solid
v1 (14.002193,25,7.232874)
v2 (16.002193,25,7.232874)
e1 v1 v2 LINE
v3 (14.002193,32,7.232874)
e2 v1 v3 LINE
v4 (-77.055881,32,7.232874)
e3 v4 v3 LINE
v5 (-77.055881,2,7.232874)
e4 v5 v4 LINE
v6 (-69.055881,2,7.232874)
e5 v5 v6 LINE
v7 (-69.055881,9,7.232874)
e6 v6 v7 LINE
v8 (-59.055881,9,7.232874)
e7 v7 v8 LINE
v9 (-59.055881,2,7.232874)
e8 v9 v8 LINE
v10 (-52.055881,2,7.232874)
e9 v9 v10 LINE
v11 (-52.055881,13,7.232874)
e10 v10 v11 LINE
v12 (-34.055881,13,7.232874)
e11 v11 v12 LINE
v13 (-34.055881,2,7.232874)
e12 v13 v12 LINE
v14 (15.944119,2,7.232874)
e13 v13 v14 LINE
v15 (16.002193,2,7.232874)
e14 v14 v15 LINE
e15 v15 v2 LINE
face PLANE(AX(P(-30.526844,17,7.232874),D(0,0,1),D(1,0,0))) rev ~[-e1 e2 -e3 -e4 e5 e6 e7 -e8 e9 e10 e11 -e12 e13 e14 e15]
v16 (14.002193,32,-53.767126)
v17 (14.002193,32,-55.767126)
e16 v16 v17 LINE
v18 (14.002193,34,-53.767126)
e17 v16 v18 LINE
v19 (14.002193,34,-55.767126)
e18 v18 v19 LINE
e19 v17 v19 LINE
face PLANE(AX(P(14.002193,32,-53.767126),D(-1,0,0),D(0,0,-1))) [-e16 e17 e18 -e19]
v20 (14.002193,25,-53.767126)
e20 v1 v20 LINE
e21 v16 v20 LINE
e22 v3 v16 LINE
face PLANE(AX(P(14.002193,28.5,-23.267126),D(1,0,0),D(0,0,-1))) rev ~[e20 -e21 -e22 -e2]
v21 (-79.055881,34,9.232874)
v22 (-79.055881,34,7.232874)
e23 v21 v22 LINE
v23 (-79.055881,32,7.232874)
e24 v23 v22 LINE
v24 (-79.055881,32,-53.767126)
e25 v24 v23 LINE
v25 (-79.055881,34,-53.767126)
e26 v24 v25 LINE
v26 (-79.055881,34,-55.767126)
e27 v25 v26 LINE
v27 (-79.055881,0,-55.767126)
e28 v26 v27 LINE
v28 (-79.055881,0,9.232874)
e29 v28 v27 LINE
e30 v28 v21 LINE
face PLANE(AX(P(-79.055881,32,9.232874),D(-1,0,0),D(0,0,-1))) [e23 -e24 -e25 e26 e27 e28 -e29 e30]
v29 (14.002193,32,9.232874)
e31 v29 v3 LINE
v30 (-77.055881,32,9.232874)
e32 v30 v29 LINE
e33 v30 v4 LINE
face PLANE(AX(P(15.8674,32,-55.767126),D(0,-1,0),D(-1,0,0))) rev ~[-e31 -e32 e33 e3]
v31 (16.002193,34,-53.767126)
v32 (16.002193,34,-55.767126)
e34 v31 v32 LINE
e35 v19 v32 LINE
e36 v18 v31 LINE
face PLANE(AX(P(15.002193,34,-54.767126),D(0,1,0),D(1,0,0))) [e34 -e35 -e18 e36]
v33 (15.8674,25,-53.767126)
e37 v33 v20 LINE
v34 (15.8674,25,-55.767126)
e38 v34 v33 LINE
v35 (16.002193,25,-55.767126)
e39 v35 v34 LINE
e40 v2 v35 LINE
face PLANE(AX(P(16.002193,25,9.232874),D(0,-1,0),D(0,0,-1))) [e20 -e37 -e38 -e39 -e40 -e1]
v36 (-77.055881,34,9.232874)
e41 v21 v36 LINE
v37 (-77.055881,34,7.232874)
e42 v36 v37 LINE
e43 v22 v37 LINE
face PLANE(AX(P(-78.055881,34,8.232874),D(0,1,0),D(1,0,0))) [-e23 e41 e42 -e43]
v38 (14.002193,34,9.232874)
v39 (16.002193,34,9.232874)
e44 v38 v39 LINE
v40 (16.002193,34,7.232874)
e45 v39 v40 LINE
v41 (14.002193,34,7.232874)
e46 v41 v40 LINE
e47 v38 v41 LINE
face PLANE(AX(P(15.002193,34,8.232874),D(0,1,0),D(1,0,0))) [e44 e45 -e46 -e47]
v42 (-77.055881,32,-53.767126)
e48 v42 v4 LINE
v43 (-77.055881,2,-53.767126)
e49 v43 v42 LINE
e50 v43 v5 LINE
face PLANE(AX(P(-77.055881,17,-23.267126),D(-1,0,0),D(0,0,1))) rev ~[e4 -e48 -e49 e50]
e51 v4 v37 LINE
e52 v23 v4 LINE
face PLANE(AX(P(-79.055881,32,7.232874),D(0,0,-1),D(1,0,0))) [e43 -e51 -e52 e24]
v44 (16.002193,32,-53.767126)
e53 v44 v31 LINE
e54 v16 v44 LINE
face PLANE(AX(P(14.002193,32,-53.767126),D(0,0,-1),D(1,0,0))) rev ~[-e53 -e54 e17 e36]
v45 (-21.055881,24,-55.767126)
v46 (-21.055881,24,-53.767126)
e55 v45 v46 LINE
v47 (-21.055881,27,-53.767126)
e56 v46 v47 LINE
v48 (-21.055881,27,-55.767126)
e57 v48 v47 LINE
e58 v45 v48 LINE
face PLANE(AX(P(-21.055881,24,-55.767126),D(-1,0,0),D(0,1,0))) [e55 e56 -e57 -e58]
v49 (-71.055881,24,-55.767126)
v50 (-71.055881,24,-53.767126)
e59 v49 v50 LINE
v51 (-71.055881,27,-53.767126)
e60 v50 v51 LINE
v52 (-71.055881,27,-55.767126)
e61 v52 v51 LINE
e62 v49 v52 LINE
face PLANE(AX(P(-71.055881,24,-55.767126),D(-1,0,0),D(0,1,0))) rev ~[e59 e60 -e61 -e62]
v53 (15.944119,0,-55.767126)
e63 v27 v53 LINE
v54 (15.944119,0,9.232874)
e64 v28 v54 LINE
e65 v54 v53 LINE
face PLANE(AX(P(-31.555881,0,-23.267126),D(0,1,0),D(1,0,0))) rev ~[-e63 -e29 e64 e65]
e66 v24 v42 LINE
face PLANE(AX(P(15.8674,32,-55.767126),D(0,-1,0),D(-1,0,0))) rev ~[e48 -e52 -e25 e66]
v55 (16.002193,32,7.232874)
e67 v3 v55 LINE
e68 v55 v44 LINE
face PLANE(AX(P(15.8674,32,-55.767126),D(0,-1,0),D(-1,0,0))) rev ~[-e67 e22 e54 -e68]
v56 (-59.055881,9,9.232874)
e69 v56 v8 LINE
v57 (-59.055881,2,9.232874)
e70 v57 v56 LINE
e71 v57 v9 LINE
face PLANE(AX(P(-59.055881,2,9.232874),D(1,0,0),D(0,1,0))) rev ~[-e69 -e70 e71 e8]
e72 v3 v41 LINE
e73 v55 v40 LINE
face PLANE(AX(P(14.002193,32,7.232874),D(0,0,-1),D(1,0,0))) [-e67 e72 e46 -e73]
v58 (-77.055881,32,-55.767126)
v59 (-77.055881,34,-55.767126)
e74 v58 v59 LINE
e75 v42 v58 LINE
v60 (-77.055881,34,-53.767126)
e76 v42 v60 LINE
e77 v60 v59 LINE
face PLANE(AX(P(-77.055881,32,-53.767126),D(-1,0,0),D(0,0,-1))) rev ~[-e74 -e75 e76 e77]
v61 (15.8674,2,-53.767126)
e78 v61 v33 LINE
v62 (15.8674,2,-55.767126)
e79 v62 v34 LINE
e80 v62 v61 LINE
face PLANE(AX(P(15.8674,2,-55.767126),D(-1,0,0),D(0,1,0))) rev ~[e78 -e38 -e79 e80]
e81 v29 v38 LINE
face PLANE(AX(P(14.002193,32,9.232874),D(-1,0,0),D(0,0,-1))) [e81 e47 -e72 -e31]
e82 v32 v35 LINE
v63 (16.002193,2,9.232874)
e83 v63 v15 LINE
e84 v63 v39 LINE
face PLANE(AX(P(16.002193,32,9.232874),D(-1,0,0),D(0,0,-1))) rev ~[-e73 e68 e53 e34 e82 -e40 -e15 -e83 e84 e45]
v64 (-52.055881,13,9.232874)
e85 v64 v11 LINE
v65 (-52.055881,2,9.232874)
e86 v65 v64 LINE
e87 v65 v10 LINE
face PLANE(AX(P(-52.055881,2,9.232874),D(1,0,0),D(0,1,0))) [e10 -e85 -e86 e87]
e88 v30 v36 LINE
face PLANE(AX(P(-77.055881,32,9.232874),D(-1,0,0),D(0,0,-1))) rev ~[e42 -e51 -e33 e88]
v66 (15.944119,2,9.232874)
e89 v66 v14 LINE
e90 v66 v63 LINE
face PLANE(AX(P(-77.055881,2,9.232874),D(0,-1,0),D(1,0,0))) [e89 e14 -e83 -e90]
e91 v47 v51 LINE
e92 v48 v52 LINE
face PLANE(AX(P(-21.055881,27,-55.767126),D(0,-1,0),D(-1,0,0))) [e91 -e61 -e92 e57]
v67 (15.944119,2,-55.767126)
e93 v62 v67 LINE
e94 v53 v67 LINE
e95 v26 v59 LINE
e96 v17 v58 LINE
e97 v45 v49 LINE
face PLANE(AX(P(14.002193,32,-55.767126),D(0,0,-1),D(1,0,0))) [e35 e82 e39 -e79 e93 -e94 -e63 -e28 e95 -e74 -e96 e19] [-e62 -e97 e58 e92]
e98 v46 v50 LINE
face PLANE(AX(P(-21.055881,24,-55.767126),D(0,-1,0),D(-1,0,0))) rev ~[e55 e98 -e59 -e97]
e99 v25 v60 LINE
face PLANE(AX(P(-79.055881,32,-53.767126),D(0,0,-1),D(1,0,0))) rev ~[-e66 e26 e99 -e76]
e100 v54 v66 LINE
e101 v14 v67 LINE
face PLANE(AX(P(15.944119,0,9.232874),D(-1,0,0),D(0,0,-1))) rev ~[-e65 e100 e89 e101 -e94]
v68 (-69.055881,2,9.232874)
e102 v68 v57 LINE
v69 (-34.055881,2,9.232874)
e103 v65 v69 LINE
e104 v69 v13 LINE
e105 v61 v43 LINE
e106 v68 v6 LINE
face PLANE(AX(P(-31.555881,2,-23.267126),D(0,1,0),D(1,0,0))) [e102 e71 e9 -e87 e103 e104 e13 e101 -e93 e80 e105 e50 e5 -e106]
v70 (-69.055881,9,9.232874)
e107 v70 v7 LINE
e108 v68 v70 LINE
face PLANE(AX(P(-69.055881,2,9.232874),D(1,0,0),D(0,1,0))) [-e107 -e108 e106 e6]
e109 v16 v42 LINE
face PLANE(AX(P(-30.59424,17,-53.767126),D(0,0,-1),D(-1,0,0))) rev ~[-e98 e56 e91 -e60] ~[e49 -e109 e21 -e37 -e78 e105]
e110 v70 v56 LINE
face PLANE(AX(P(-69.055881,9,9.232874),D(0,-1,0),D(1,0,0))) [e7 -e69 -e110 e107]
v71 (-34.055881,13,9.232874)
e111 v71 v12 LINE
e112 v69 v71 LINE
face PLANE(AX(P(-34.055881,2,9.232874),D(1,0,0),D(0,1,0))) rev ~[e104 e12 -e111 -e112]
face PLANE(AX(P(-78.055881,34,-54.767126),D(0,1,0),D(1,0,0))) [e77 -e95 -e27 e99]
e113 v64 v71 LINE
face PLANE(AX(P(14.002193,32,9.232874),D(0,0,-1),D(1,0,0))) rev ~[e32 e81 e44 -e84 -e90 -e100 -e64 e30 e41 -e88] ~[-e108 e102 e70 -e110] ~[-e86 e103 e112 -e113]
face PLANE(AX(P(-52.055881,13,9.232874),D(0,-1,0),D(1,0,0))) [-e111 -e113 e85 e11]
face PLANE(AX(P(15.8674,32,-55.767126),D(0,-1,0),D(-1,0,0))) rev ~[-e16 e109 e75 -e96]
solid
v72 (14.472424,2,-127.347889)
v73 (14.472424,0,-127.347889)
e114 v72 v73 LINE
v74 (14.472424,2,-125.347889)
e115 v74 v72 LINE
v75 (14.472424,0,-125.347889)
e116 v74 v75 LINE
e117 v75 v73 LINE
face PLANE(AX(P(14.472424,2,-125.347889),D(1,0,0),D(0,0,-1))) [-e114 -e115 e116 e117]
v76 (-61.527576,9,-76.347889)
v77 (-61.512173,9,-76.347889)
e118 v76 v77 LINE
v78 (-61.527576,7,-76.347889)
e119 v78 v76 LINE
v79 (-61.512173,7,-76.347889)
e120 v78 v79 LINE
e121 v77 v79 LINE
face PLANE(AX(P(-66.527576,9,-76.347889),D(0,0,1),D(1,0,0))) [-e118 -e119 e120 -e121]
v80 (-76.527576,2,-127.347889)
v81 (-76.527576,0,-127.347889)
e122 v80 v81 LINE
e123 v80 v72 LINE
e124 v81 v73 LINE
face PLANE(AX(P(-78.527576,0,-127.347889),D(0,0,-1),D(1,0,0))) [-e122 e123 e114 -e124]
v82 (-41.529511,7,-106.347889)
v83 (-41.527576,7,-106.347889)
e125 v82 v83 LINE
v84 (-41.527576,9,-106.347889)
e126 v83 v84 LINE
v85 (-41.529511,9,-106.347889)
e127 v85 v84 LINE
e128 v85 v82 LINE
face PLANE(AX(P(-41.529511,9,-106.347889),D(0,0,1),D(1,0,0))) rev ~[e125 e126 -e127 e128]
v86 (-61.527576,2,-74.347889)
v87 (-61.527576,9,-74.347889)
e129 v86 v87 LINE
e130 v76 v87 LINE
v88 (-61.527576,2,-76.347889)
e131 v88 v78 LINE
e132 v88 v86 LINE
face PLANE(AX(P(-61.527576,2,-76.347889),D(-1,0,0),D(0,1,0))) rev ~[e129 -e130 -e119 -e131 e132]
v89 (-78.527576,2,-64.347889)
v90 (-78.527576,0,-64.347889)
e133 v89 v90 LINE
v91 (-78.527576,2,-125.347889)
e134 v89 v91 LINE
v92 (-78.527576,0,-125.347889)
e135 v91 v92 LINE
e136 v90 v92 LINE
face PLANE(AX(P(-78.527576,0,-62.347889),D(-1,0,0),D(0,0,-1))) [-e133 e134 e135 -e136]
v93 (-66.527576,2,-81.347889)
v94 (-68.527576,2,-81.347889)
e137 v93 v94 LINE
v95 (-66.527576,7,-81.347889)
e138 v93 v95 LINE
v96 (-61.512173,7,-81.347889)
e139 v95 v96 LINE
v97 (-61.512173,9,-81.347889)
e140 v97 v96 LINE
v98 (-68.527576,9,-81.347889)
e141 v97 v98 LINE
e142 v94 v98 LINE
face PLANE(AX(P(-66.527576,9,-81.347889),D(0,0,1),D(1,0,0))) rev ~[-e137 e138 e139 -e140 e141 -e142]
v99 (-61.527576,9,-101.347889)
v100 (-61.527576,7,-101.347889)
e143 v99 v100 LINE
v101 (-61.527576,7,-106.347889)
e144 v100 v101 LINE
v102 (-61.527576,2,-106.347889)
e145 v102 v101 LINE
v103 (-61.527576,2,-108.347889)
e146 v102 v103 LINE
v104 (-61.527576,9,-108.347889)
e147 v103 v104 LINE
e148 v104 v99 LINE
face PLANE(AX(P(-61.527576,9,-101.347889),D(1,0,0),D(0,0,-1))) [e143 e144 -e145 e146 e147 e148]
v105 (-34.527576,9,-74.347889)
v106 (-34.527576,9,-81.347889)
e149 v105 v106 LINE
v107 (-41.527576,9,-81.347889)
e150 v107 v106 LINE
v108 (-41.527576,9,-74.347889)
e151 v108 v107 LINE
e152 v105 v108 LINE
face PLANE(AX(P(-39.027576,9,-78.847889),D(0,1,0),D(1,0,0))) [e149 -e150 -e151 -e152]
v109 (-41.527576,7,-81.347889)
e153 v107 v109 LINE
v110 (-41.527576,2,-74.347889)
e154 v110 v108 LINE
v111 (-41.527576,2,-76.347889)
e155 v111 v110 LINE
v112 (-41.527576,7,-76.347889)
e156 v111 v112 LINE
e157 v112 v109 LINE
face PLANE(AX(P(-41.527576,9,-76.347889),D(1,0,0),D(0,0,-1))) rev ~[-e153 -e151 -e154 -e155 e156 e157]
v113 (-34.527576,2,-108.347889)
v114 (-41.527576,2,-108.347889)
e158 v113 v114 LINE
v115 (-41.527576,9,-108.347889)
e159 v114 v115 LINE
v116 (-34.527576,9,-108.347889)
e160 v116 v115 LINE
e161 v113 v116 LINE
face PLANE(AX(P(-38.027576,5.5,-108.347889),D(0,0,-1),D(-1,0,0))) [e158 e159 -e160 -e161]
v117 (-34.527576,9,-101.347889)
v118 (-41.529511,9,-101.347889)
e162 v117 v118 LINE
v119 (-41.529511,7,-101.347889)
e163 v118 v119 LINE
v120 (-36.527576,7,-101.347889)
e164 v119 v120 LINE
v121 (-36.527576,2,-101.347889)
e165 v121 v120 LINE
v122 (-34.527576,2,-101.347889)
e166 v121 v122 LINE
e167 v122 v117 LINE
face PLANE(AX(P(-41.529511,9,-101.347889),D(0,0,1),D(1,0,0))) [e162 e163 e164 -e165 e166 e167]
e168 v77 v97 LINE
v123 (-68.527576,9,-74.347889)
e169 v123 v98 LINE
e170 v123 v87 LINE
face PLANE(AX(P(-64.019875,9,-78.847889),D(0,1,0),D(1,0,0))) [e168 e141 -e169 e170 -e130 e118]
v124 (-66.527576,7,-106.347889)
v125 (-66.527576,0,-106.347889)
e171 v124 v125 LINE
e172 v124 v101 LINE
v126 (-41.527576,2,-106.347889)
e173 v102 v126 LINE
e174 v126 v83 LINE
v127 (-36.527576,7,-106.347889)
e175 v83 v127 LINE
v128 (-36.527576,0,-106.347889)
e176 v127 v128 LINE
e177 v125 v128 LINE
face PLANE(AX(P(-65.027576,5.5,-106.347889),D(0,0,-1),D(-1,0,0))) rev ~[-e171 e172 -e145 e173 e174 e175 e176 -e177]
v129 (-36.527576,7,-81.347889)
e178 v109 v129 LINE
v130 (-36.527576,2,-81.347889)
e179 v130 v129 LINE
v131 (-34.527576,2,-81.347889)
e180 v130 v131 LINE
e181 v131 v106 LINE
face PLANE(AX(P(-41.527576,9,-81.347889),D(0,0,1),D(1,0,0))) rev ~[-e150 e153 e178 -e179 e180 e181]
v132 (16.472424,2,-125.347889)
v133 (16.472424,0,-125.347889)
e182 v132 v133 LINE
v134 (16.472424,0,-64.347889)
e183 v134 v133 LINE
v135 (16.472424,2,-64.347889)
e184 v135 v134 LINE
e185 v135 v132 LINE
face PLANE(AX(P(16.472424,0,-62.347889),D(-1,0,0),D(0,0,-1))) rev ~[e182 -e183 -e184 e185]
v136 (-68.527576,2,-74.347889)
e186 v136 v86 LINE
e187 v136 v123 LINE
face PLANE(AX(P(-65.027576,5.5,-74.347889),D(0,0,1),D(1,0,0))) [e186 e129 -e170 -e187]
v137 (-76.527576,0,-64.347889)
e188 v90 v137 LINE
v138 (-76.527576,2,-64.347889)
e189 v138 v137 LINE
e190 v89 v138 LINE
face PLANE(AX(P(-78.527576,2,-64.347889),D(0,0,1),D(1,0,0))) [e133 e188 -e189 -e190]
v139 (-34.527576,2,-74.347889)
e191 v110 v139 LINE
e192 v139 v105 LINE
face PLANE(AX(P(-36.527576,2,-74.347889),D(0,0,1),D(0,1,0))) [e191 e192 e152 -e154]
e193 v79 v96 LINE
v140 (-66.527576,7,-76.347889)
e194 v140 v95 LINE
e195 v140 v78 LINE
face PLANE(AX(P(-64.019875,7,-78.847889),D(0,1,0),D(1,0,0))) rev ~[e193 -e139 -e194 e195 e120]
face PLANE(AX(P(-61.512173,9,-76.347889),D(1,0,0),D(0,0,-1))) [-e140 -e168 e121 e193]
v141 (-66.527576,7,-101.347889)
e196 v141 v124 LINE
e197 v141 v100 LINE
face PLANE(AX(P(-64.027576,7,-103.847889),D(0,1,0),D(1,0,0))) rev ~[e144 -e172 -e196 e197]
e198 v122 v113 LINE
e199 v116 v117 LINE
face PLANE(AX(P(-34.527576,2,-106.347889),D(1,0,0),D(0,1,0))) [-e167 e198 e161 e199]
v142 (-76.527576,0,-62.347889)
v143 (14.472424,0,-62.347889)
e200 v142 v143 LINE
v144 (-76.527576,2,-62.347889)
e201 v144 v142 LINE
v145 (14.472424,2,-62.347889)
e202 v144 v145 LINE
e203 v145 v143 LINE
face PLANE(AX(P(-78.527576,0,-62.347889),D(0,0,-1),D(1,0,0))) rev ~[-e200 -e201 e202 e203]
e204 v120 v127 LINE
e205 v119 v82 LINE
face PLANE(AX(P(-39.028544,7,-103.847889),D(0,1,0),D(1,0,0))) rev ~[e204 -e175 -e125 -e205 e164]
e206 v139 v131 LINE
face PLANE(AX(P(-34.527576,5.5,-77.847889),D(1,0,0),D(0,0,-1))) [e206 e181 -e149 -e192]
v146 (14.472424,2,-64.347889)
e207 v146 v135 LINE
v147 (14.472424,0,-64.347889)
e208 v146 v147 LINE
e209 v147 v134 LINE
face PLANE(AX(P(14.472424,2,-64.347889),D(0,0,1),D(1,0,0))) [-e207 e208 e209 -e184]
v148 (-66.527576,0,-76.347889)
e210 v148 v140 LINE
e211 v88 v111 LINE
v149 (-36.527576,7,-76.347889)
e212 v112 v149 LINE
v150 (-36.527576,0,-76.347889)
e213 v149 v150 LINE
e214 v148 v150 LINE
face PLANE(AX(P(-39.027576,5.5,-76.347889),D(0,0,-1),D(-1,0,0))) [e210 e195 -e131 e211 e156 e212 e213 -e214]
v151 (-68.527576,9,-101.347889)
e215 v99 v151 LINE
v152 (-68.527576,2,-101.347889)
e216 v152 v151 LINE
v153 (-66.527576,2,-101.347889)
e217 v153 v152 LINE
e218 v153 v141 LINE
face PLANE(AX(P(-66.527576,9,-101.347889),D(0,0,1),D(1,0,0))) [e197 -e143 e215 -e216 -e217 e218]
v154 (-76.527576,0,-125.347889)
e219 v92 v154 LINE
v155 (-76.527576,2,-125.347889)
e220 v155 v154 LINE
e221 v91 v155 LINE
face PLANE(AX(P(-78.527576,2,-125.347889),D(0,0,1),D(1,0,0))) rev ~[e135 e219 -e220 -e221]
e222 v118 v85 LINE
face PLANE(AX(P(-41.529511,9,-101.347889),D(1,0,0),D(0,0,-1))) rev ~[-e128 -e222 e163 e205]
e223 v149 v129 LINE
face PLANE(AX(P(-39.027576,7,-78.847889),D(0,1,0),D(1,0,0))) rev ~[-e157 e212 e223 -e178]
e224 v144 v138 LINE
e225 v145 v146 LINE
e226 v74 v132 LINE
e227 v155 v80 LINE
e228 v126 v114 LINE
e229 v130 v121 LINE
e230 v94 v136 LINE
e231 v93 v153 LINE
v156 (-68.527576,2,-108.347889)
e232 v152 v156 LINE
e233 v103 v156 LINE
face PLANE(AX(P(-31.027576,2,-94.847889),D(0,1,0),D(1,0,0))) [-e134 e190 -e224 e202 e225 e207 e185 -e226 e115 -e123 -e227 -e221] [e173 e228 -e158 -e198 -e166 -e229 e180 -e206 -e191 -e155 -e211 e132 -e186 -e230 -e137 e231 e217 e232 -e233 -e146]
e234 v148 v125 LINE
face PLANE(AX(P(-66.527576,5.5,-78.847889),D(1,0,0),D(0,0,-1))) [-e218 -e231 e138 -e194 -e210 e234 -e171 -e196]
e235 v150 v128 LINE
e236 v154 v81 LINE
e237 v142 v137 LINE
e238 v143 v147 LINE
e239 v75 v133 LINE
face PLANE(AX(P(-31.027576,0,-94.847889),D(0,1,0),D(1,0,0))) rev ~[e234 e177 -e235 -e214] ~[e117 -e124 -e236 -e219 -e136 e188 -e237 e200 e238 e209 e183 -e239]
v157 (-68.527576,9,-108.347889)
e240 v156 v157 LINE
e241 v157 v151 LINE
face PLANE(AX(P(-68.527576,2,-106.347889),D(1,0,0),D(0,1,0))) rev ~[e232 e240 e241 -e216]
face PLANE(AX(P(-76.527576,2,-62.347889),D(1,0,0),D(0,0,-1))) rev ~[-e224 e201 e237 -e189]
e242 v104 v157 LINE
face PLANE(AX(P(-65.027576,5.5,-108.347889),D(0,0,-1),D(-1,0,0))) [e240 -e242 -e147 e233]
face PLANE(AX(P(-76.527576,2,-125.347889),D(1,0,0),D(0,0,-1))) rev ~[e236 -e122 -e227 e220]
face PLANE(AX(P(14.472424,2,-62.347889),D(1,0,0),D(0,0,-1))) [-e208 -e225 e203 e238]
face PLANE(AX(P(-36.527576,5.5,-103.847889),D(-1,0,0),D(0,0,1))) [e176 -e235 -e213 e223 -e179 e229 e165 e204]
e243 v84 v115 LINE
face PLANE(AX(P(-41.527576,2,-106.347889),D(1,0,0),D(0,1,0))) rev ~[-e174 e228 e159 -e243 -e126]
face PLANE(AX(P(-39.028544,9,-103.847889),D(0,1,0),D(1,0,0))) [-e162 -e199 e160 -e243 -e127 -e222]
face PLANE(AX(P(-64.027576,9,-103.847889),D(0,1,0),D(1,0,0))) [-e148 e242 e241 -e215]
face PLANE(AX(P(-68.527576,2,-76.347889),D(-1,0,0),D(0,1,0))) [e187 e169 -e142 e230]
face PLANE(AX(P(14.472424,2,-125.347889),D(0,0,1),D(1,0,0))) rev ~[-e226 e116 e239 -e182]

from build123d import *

# Parameters (mm, degrees)
ESQUISSE1_W                = 95
ESQUISSE1_H                = 65
BOSS_EXTRU_1_DEPTH         = 2
ESQUISSE22_W               = 65
ESQUISSE22_H               = 30
BOSS_EXTRU_6_DEPTH         = 2
ESQUISSE23_W               = 93.058073386
ESQUISSE23_H               = 30
BOSS_EXTRU_7_DEPTH         = 2
ESQUISSE26_W               = 92.923280672
ESQUISSE26_H               = 30
BOSS_EXTRU_8_DEPTH         = 2
ESQUISSE27_W               = 10
ESQUISSE27_H               = 7
ENL_V_MAT_EXTRU_4_DEPTH    = 2
ESQUISSE28_W               = 18
ESQUISSE28_H               = 11
ENL_V_MAT_EXTRU_5_DEPTH    = 2
ESQUISSE30_W               = 65
ESQUISSE30_H               = 7
BOSS_EXTRU_9_DEPTH         = 2
ESQUISSE31_W               = 95
ESQUISSE31_H               = 65
BOSS_EXTRU_11_DEPTH        = 2
ESQUISSE32_W               = 2
ESQUISSE32_H               = 2
BOSS_EXTRU_12_DEPTH        = 2
R_P_TITION_LIN_AIRE1_COUNT = 2
R_P_TITION_LIN_AIRE1_PITCH = 63
ESQUISSE33_W               = 2
ESQUISSE33_H               = 2
BOSS_EXTRU_13_DEPTH        = 2
R_P_TITION_LIN_AIRE4_COUNT = 2
R_P_TITION_LIN_AIRE4_PITCH = 63
ESQUISSE34_W               = 2
ESQUISSE34_H               = 2
ENL_V_MAT_EXTRU_6_DEPTH    = 2
R_P_TITION_LIN_AIRE5_COUNT = 2
R_P_TITION_LIN_AIRE5_PITCH = 63
ESQUISSE35_W               = 2
ESQUISSE35_H               = 2
ENL_V_MAT_EXTRU_7_DEPTH    = 2
R_P_TITION_LIN_AIRE7_COUNT = 2
R_P_TITION_LIN_AIRE7_PITCH = 63
ESQUISSE36_W               = 30
ESQUISSE36_H               = 30
ENL_V_MAT_EXTRU_8_DEPTH    = 2
ESQUISSE37_W               = 5
ESQUISSE37_H               = 7
BOSS_EXTRU_14_DEPTH        = 2
ESQUISSE38_W               = 7
ESQUISSE38_H               = 7
BOSS_EXTRU_15_DEPTH        = 2
ESQUISSE39_W               = 5
ESQUISSE39_H               = 5
BOSS_EXTRU_16_DEPTH        = 2
ESQUISSE40_W               = 5
ESQUISSE40_H               = 7
BOSS_EXTRU_17_DEPTH        = 2
ESQUISSE41_W               = 7
ESQUISSE41_H               = 7
BOSS_EXTRU_19_DEPTH        = 2
ESQUISSE43_W               = 5.015402863
ESQUISSE43_H               = 5
BOSS_EXTRU_20_DEPTH        = 2
ESQUISSE44_W               = 5
ESQUISSE44_H               = 7
BOSS_EXTRU_21_DEPTH        = 2
ESQUISSE45_W               = 7
ESQUISSE45_H               = 7
BOSS_EXTRU_22_DEPTH        = 2
ESQUISSE46_W               = 5.00193494
ESQUISSE46_H               = 5
BOSS_EXTRU_23_DEPTH        = 2
ESQUISSE48_W               = 5
ESQUISSE48_H               = 7
BOSS_EXTRU_24_DEPTH        = 2
ESQUISSE49_W               = 7
ESQUISSE49_H               = 7
BOSS_EXTRU_25_DEPTH        = 2
ESQUISSE50_W               = 5
ESQUISSE50_H               = 5
BOSS_EXTRU_26_DEPTH        = 2
ESQUISSE51_W               = 50
ESQUISSE51_H               = 3
ENL_V_MAT_EXTRU_9_DEPTH    = 2


with BuildPart() as part:
    # Esquisse1 → Boss.-Extru.1 (new body)
    with BuildSketch(Plane(origin=(0, 0, 0), x_dir=(1, 0, 0), z_dir=(0, 1, 0))):
        with Locations((-31.555880748, 23.267126069)):
            Rectangle(ESQUISSE1_W, ESQUISSE1_H)
    extrude(amount=BOSS_EXTRU_1_DEPTH)

    # Esquisse22 → Boss.-Extru.6 (add)
    with BuildSketch(Plane.ZY.offset(79.055880748)):
        with Locations((-23.267126069, 17)):
            Rectangle(ESQUISSE22_W, ESQUISSE22_H)
    extrude(amount=-BOSS_EXTRU_6_DEPTH)

    # Esquisse23 → Boss.-Extru.7 (add)
    with BuildSketch(Plane.XY.offset(9.232873931)):
        with Locations((-30.526844055, 17)):
            Rectangle(ESQUISSE23_W, ESQUISSE23_H)
    extrude(amount=-BOSS_EXTRU_7_DEPTH)

    # Esquisse26 → Boss.-Extru.8 (add)
    with BuildSketch(Plane(origin=(0, 0, -55.767126069), x_dir=(-1, 0, 0), z_dir=(0, 0, -1))):
        with Locations((30.594240412, 17)):
            Rectangle(ESQUISSE26_W, ESQUISSE26_H)
    extrude(amount=-BOSS_EXTRU_8_DEPTH)

    # Esquisse27 → Enlèv. mat.-Extru.4 (cut)
    with BuildSketch(Plane.XY.offset(9.232873931)):
        with Locations((-64.055880748, 5.5)):
            Rectangle(ESQUISSE27_W, ESQUISSE27_H)
    extrude(amount=-ENL_V_MAT_EXTRU_4_DEPTH, mode=Mode.SUBTRACT)

    # Esquisse28 → Enlèv. mat.-Extru.5 (cut)
    with BuildSketch(Plane.XY.offset(9.232873931)):
        with Locations((-43.055880748, 7.5)):
            Rectangle(ESQUISSE28_W, ESQUISSE28_H)
    extrude(amount=-ENL_V_MAT_EXTRU_5_DEPTH, mode=Mode.SUBTRACT)

    # Esquisse30 → Boss.-Extru.9 (add)
    with BuildSketch(Plane(origin=(16.002192638, 0, 0), x_dir=(0, 0, -1), z_dir=(1, 0, 0))):
        with Locations((23.267126069, 28.5)):
            Rectangle(ESQUISSE30_W, ESQUISSE30_H)
    extrude(amount=-BOSS_EXTRU_9_DEPTH)

    # Esquisse32 → Boss.-Extru.12 (add)
    with BuildSketch(Plane(origin=(0, 32, 0), x_dir=(1, 0, 0), z_dir=(0, 1, 0))):
        with Locations((-78.055880748, 54.767126069)):
            Rectangle(ESQUISSE32_W, ESQUISSE32_H)
    boss_extru_12 = extrude(amount=BOSS_EXTRU_12_DEPTH)

    # Répétition linéaire1: Boss.-Extru.12 ×2
    with Locations(*[(0, 0, i * R_P_TITION_LIN_AIRE1_PITCH) for i in range(1, R_P_TITION_LIN_AIRE1_COUNT)]):
        add(boss_extru_12)

    # Esquisse33 → Boss.-Extru.13 (add)
    with BuildSketch(Plane(origin=(0, 32, 0), x_dir=(1, 0, 0), z_dir=(0, 1, 0))):
        with Locations((15.002192638, 54.767126069)):
            Rectangle(ESQUISSE33_W, ESQUISSE33_H)
    boss_extru_13 = extrude(amount=BOSS_EXTRU_13_DEPTH)

    # Répétition linéaire4: Boss.-Extru.13 ×2
    with Locations(*[(0, 0, i * R_P_TITION_LIN_AIRE4_PITCH) for i in range(1, R_P_TITION_LIN_AIRE4_COUNT)]):
        add(boss_extru_13)

    # Esquisse51 → Enlèv. mat.-Extru.9 (cut)
    with BuildSketch(Plane(origin=(0, 0, -55.767126069), x_dir=(-1, 0, 0), z_dir=(0, 0, -1))):
        with Locations((46.055880748, 25.5)):
            Rectangle(ESQUISSE51_W, ESQUISSE51_H)
    extrude(amount=-ENL_V_MAT_EXTRU_9_DEPTH, mode=Mode.SUBTRACT)


with BuildPart() as body_2:
    # Esquisse31 → Boss.-Extru.11 (new body)
    with BuildSketch(Plane(origin=(0, 0, 0), x_dir=(1, 0, 0), z_dir=(0, 1, 0))):
        with Locations((-31.027576349, 94.847888589)):
            Rectangle(ESQUISSE31_W, ESQUISSE31_H)
    extrude(amount=BOSS_EXTRU_11_DEPTH)

    # Esquisse34 → Enlèv. mat.-Extru.6 (cut)
    with BuildSketch(Plane(origin=(0, 2, 0), x_dir=(1, 0, 0), z_dir=(0, 1, 0))):
        with Locations((-77.527576349, 126.347888589)):
            Rectangle(ESQUISSE34_W, ESQUISSE34_H)
    enl_v_mat_extru_6 = extrude(amount=-ENL_V_MAT_EXTRU_6_DEPTH, mode=Mode.SUBTRACT)

    # Répétition linéaire5: Enlèv. mat.-Extru.6 ×2
    with Locations(*[(0, 0, i * R_P_TITION_LIN_AIRE5_PITCH) for i in range(1, R_P_TITION_LIN_AIRE5_COUNT)]):
        add(enl_v_mat_extru_6, mode=Mode.SUBTRACT)

    # Esquisse35 → Enlèv. mat.-Extru.7 (cut)
    with BuildSketch(Plane(origin=(0, 2, 0), x_dir=(1, 0, 0), z_dir=(0, 1, 0))):
        with Locations((15.472423651, 126.347888589)):
            Rectangle(ESQUISSE35_W, ESQUISSE35_H)
    enl_v_mat_extru_7 = extrude(amount=-ENL_V_MAT_EXTRU_7_DEPTH, mode=Mode.SUBTRACT)

    # Répétition linéaire7: Enlèv. mat.-Extru.7 ×2
    with Locations(*[(0, 0, i * R_P_TITION_LIN_AIRE7_PITCH) for i in range(1, R_P_TITION_LIN_AIRE7_COUNT)]):
        add(enl_v_mat_extru_7, mode=Mode.SUBTRACT)

    # Esquisse36 → Enlèv. mat.-Extru.8 (cut)
    with BuildSketch(Plane(origin=(0, 2, 0), x_dir=(1, 0, 0), z_dir=(0, 1, 0))):
        with Locations((-51.527576349, 91.347888589)):
            Rectangle(ESQUISSE36_W, ESQUISSE36_H)
    extrude(amount=-ENL_V_MAT_EXTRU_8_DEPTH, mode=Mode.SUBTRACT)

    # Esquisse37 → Boss.-Extru.14 (add)
    with BuildSketch(Plane(origin=(-66.527576349, 0, 0), x_dir=(0, 0, -1), z_dir=(1, 0, 0))):
        with Locations((103.847888589, 5.5)):
            Rectangle(ESQUISSE37_W, ESQUISSE37_H)
    extrude(amount=-BOSS_EXTRU_14_DEPTH)

    # Esquisse38 → Boss.-Extru.15 (add)
    with BuildSketch(Plane(origin=(0, 0, -106.347888589), x_dir=(-1, 0, 0), z_dir=(0, 0, -1))):
        with Locations((65.027576349, 5.5)):
            Rectangle(ESQUISSE38_W, ESQUISSE38_H)
    extrude(amount=BOSS_EXTRU_15_DEPTH)

    # Esquisse39 → Boss.-Extru.16 (add)
    with BuildSketch(Plane(origin=(0, 9, 0), x_dir=(1, 0, 0), z_dir=(0, 1, 0))):
        with Locations((-64.027576349, 103.847888589)):
            Rectangle(ESQUISSE39_W, ESQUISSE39_H)
    extrude(amount=-BOSS_EXTRU_16_DEPTH)

    # Esquisse40 → Boss.-Extru.17 (add)
    with BuildSketch(Plane(origin=(-66.527576349, 0, 0), x_dir=(0, 0, -1), z_dir=(1, 0, 0))):
        with Locations((78.847888589, 5.5)):
            Rectangle(ESQUISSE40_W, ESQUISSE40_H)
    extrude(amount=-BOSS_EXTRU_17_DEPTH)

    # Esquisse41 → Boss.-Extru.19 (add)
    with BuildSketch(Plane.XY.offset(-76.347888589)):
        with Locations((-65.027576349, 5.5)):
            Rectangle(ESQUISSE41_W, ESQUISSE41_H)
    extrude(amount=BOSS_EXTRU_19_DEPTH)

    # Esquisse43 → Boss.-Extru.20 (add)
    with BuildSketch(Plane(origin=(0, 9, 0), x_dir=(1, 0, 0), z_dir=(0, 1, 0))):
        with Locations((-64.019874918, 78.847888589)):
            Rectangle(ESQUISSE43_W, ESQUISSE43_H)
    extrude(amount=-BOSS_EXTRU_20_DEPTH)

    # Esquisse44 → Boss.-Extru.21 (add)
    with BuildSketch(Plane.ZY.offset(36.527576349)):
        with Locations((-103.847888589, 5.5)):
            Rectangle(ESQUISSE44_W, ESQUISSE44_H)
    extrude(amount=-BOSS_EXTRU_21_DEPTH)

    # Esquisse45 → Boss.-Extru.22 (add)
    with BuildSketch(Plane(origin=(0, 0, -106.347888589), x_dir=(-1, 0, 0), z_dir=(0, 0, -1))):
        with Locations((38.027576349, 5.5)):
            Rectangle(ESQUISSE45_W, ESQUISSE45_H)
    extrude(amount=BOSS_EXTRU_22_DEPTH)

    # Esquisse46 → Boss.-Extru.23 (add)
    with BuildSketch(Plane(origin=(0, 9, 0), x_dir=(1, 0, 0), z_dir=(0, 1, 0))):
        with Locations((-39.028543819, 103.847888589)):
            Rectangle(ESQUISSE46_W, ESQUISSE46_H)
    extrude(amount=-BOSS_EXTRU_23_DEPTH)

    # Esquisse48 → Boss.-Extru.24 (add)
    with BuildSketch(Plane(origin=(0, 0, -76.347888589), x_dir=(-1, 0, 0), z_dir=(0, 0, -1))):
        with Locations((39.027576349, 5.5)):
            Rectangle(ESQUISSE48_W, ESQUISSE48_H)
    extrude(amount=-BOSS_EXTRU_24_DEPTH)

    # Esquisse49 → Boss.-Extru.25 (add)
    with BuildSketch(Plane(origin=(-36.527576349, 0, 0), x_dir=(0, 0, -1), z_dir=(1, 0, 0))):
        with Locations((77.847888589, 5.5)):
            Rectangle(ESQUISSE49_W, ESQUISSE49_H)
    extrude(amount=BOSS_EXTRU_25_DEPTH)

    # Esquisse50 → Boss.-Extru.26 (add)
    with BuildSketch(Plane(origin=(0, 9, 0), x_dir=(1, 0, 0), z_dir=(0, 1, 0))):
        with Locations((-39.027576349, 78.847888589)):
            Rectangle(ESQUISSE50_W, ESQUISSE50_H)
    extrude(amount=-BOSS_EXTRU_26_DEPTH)


solid = Compound([part.part, body_2.part])
